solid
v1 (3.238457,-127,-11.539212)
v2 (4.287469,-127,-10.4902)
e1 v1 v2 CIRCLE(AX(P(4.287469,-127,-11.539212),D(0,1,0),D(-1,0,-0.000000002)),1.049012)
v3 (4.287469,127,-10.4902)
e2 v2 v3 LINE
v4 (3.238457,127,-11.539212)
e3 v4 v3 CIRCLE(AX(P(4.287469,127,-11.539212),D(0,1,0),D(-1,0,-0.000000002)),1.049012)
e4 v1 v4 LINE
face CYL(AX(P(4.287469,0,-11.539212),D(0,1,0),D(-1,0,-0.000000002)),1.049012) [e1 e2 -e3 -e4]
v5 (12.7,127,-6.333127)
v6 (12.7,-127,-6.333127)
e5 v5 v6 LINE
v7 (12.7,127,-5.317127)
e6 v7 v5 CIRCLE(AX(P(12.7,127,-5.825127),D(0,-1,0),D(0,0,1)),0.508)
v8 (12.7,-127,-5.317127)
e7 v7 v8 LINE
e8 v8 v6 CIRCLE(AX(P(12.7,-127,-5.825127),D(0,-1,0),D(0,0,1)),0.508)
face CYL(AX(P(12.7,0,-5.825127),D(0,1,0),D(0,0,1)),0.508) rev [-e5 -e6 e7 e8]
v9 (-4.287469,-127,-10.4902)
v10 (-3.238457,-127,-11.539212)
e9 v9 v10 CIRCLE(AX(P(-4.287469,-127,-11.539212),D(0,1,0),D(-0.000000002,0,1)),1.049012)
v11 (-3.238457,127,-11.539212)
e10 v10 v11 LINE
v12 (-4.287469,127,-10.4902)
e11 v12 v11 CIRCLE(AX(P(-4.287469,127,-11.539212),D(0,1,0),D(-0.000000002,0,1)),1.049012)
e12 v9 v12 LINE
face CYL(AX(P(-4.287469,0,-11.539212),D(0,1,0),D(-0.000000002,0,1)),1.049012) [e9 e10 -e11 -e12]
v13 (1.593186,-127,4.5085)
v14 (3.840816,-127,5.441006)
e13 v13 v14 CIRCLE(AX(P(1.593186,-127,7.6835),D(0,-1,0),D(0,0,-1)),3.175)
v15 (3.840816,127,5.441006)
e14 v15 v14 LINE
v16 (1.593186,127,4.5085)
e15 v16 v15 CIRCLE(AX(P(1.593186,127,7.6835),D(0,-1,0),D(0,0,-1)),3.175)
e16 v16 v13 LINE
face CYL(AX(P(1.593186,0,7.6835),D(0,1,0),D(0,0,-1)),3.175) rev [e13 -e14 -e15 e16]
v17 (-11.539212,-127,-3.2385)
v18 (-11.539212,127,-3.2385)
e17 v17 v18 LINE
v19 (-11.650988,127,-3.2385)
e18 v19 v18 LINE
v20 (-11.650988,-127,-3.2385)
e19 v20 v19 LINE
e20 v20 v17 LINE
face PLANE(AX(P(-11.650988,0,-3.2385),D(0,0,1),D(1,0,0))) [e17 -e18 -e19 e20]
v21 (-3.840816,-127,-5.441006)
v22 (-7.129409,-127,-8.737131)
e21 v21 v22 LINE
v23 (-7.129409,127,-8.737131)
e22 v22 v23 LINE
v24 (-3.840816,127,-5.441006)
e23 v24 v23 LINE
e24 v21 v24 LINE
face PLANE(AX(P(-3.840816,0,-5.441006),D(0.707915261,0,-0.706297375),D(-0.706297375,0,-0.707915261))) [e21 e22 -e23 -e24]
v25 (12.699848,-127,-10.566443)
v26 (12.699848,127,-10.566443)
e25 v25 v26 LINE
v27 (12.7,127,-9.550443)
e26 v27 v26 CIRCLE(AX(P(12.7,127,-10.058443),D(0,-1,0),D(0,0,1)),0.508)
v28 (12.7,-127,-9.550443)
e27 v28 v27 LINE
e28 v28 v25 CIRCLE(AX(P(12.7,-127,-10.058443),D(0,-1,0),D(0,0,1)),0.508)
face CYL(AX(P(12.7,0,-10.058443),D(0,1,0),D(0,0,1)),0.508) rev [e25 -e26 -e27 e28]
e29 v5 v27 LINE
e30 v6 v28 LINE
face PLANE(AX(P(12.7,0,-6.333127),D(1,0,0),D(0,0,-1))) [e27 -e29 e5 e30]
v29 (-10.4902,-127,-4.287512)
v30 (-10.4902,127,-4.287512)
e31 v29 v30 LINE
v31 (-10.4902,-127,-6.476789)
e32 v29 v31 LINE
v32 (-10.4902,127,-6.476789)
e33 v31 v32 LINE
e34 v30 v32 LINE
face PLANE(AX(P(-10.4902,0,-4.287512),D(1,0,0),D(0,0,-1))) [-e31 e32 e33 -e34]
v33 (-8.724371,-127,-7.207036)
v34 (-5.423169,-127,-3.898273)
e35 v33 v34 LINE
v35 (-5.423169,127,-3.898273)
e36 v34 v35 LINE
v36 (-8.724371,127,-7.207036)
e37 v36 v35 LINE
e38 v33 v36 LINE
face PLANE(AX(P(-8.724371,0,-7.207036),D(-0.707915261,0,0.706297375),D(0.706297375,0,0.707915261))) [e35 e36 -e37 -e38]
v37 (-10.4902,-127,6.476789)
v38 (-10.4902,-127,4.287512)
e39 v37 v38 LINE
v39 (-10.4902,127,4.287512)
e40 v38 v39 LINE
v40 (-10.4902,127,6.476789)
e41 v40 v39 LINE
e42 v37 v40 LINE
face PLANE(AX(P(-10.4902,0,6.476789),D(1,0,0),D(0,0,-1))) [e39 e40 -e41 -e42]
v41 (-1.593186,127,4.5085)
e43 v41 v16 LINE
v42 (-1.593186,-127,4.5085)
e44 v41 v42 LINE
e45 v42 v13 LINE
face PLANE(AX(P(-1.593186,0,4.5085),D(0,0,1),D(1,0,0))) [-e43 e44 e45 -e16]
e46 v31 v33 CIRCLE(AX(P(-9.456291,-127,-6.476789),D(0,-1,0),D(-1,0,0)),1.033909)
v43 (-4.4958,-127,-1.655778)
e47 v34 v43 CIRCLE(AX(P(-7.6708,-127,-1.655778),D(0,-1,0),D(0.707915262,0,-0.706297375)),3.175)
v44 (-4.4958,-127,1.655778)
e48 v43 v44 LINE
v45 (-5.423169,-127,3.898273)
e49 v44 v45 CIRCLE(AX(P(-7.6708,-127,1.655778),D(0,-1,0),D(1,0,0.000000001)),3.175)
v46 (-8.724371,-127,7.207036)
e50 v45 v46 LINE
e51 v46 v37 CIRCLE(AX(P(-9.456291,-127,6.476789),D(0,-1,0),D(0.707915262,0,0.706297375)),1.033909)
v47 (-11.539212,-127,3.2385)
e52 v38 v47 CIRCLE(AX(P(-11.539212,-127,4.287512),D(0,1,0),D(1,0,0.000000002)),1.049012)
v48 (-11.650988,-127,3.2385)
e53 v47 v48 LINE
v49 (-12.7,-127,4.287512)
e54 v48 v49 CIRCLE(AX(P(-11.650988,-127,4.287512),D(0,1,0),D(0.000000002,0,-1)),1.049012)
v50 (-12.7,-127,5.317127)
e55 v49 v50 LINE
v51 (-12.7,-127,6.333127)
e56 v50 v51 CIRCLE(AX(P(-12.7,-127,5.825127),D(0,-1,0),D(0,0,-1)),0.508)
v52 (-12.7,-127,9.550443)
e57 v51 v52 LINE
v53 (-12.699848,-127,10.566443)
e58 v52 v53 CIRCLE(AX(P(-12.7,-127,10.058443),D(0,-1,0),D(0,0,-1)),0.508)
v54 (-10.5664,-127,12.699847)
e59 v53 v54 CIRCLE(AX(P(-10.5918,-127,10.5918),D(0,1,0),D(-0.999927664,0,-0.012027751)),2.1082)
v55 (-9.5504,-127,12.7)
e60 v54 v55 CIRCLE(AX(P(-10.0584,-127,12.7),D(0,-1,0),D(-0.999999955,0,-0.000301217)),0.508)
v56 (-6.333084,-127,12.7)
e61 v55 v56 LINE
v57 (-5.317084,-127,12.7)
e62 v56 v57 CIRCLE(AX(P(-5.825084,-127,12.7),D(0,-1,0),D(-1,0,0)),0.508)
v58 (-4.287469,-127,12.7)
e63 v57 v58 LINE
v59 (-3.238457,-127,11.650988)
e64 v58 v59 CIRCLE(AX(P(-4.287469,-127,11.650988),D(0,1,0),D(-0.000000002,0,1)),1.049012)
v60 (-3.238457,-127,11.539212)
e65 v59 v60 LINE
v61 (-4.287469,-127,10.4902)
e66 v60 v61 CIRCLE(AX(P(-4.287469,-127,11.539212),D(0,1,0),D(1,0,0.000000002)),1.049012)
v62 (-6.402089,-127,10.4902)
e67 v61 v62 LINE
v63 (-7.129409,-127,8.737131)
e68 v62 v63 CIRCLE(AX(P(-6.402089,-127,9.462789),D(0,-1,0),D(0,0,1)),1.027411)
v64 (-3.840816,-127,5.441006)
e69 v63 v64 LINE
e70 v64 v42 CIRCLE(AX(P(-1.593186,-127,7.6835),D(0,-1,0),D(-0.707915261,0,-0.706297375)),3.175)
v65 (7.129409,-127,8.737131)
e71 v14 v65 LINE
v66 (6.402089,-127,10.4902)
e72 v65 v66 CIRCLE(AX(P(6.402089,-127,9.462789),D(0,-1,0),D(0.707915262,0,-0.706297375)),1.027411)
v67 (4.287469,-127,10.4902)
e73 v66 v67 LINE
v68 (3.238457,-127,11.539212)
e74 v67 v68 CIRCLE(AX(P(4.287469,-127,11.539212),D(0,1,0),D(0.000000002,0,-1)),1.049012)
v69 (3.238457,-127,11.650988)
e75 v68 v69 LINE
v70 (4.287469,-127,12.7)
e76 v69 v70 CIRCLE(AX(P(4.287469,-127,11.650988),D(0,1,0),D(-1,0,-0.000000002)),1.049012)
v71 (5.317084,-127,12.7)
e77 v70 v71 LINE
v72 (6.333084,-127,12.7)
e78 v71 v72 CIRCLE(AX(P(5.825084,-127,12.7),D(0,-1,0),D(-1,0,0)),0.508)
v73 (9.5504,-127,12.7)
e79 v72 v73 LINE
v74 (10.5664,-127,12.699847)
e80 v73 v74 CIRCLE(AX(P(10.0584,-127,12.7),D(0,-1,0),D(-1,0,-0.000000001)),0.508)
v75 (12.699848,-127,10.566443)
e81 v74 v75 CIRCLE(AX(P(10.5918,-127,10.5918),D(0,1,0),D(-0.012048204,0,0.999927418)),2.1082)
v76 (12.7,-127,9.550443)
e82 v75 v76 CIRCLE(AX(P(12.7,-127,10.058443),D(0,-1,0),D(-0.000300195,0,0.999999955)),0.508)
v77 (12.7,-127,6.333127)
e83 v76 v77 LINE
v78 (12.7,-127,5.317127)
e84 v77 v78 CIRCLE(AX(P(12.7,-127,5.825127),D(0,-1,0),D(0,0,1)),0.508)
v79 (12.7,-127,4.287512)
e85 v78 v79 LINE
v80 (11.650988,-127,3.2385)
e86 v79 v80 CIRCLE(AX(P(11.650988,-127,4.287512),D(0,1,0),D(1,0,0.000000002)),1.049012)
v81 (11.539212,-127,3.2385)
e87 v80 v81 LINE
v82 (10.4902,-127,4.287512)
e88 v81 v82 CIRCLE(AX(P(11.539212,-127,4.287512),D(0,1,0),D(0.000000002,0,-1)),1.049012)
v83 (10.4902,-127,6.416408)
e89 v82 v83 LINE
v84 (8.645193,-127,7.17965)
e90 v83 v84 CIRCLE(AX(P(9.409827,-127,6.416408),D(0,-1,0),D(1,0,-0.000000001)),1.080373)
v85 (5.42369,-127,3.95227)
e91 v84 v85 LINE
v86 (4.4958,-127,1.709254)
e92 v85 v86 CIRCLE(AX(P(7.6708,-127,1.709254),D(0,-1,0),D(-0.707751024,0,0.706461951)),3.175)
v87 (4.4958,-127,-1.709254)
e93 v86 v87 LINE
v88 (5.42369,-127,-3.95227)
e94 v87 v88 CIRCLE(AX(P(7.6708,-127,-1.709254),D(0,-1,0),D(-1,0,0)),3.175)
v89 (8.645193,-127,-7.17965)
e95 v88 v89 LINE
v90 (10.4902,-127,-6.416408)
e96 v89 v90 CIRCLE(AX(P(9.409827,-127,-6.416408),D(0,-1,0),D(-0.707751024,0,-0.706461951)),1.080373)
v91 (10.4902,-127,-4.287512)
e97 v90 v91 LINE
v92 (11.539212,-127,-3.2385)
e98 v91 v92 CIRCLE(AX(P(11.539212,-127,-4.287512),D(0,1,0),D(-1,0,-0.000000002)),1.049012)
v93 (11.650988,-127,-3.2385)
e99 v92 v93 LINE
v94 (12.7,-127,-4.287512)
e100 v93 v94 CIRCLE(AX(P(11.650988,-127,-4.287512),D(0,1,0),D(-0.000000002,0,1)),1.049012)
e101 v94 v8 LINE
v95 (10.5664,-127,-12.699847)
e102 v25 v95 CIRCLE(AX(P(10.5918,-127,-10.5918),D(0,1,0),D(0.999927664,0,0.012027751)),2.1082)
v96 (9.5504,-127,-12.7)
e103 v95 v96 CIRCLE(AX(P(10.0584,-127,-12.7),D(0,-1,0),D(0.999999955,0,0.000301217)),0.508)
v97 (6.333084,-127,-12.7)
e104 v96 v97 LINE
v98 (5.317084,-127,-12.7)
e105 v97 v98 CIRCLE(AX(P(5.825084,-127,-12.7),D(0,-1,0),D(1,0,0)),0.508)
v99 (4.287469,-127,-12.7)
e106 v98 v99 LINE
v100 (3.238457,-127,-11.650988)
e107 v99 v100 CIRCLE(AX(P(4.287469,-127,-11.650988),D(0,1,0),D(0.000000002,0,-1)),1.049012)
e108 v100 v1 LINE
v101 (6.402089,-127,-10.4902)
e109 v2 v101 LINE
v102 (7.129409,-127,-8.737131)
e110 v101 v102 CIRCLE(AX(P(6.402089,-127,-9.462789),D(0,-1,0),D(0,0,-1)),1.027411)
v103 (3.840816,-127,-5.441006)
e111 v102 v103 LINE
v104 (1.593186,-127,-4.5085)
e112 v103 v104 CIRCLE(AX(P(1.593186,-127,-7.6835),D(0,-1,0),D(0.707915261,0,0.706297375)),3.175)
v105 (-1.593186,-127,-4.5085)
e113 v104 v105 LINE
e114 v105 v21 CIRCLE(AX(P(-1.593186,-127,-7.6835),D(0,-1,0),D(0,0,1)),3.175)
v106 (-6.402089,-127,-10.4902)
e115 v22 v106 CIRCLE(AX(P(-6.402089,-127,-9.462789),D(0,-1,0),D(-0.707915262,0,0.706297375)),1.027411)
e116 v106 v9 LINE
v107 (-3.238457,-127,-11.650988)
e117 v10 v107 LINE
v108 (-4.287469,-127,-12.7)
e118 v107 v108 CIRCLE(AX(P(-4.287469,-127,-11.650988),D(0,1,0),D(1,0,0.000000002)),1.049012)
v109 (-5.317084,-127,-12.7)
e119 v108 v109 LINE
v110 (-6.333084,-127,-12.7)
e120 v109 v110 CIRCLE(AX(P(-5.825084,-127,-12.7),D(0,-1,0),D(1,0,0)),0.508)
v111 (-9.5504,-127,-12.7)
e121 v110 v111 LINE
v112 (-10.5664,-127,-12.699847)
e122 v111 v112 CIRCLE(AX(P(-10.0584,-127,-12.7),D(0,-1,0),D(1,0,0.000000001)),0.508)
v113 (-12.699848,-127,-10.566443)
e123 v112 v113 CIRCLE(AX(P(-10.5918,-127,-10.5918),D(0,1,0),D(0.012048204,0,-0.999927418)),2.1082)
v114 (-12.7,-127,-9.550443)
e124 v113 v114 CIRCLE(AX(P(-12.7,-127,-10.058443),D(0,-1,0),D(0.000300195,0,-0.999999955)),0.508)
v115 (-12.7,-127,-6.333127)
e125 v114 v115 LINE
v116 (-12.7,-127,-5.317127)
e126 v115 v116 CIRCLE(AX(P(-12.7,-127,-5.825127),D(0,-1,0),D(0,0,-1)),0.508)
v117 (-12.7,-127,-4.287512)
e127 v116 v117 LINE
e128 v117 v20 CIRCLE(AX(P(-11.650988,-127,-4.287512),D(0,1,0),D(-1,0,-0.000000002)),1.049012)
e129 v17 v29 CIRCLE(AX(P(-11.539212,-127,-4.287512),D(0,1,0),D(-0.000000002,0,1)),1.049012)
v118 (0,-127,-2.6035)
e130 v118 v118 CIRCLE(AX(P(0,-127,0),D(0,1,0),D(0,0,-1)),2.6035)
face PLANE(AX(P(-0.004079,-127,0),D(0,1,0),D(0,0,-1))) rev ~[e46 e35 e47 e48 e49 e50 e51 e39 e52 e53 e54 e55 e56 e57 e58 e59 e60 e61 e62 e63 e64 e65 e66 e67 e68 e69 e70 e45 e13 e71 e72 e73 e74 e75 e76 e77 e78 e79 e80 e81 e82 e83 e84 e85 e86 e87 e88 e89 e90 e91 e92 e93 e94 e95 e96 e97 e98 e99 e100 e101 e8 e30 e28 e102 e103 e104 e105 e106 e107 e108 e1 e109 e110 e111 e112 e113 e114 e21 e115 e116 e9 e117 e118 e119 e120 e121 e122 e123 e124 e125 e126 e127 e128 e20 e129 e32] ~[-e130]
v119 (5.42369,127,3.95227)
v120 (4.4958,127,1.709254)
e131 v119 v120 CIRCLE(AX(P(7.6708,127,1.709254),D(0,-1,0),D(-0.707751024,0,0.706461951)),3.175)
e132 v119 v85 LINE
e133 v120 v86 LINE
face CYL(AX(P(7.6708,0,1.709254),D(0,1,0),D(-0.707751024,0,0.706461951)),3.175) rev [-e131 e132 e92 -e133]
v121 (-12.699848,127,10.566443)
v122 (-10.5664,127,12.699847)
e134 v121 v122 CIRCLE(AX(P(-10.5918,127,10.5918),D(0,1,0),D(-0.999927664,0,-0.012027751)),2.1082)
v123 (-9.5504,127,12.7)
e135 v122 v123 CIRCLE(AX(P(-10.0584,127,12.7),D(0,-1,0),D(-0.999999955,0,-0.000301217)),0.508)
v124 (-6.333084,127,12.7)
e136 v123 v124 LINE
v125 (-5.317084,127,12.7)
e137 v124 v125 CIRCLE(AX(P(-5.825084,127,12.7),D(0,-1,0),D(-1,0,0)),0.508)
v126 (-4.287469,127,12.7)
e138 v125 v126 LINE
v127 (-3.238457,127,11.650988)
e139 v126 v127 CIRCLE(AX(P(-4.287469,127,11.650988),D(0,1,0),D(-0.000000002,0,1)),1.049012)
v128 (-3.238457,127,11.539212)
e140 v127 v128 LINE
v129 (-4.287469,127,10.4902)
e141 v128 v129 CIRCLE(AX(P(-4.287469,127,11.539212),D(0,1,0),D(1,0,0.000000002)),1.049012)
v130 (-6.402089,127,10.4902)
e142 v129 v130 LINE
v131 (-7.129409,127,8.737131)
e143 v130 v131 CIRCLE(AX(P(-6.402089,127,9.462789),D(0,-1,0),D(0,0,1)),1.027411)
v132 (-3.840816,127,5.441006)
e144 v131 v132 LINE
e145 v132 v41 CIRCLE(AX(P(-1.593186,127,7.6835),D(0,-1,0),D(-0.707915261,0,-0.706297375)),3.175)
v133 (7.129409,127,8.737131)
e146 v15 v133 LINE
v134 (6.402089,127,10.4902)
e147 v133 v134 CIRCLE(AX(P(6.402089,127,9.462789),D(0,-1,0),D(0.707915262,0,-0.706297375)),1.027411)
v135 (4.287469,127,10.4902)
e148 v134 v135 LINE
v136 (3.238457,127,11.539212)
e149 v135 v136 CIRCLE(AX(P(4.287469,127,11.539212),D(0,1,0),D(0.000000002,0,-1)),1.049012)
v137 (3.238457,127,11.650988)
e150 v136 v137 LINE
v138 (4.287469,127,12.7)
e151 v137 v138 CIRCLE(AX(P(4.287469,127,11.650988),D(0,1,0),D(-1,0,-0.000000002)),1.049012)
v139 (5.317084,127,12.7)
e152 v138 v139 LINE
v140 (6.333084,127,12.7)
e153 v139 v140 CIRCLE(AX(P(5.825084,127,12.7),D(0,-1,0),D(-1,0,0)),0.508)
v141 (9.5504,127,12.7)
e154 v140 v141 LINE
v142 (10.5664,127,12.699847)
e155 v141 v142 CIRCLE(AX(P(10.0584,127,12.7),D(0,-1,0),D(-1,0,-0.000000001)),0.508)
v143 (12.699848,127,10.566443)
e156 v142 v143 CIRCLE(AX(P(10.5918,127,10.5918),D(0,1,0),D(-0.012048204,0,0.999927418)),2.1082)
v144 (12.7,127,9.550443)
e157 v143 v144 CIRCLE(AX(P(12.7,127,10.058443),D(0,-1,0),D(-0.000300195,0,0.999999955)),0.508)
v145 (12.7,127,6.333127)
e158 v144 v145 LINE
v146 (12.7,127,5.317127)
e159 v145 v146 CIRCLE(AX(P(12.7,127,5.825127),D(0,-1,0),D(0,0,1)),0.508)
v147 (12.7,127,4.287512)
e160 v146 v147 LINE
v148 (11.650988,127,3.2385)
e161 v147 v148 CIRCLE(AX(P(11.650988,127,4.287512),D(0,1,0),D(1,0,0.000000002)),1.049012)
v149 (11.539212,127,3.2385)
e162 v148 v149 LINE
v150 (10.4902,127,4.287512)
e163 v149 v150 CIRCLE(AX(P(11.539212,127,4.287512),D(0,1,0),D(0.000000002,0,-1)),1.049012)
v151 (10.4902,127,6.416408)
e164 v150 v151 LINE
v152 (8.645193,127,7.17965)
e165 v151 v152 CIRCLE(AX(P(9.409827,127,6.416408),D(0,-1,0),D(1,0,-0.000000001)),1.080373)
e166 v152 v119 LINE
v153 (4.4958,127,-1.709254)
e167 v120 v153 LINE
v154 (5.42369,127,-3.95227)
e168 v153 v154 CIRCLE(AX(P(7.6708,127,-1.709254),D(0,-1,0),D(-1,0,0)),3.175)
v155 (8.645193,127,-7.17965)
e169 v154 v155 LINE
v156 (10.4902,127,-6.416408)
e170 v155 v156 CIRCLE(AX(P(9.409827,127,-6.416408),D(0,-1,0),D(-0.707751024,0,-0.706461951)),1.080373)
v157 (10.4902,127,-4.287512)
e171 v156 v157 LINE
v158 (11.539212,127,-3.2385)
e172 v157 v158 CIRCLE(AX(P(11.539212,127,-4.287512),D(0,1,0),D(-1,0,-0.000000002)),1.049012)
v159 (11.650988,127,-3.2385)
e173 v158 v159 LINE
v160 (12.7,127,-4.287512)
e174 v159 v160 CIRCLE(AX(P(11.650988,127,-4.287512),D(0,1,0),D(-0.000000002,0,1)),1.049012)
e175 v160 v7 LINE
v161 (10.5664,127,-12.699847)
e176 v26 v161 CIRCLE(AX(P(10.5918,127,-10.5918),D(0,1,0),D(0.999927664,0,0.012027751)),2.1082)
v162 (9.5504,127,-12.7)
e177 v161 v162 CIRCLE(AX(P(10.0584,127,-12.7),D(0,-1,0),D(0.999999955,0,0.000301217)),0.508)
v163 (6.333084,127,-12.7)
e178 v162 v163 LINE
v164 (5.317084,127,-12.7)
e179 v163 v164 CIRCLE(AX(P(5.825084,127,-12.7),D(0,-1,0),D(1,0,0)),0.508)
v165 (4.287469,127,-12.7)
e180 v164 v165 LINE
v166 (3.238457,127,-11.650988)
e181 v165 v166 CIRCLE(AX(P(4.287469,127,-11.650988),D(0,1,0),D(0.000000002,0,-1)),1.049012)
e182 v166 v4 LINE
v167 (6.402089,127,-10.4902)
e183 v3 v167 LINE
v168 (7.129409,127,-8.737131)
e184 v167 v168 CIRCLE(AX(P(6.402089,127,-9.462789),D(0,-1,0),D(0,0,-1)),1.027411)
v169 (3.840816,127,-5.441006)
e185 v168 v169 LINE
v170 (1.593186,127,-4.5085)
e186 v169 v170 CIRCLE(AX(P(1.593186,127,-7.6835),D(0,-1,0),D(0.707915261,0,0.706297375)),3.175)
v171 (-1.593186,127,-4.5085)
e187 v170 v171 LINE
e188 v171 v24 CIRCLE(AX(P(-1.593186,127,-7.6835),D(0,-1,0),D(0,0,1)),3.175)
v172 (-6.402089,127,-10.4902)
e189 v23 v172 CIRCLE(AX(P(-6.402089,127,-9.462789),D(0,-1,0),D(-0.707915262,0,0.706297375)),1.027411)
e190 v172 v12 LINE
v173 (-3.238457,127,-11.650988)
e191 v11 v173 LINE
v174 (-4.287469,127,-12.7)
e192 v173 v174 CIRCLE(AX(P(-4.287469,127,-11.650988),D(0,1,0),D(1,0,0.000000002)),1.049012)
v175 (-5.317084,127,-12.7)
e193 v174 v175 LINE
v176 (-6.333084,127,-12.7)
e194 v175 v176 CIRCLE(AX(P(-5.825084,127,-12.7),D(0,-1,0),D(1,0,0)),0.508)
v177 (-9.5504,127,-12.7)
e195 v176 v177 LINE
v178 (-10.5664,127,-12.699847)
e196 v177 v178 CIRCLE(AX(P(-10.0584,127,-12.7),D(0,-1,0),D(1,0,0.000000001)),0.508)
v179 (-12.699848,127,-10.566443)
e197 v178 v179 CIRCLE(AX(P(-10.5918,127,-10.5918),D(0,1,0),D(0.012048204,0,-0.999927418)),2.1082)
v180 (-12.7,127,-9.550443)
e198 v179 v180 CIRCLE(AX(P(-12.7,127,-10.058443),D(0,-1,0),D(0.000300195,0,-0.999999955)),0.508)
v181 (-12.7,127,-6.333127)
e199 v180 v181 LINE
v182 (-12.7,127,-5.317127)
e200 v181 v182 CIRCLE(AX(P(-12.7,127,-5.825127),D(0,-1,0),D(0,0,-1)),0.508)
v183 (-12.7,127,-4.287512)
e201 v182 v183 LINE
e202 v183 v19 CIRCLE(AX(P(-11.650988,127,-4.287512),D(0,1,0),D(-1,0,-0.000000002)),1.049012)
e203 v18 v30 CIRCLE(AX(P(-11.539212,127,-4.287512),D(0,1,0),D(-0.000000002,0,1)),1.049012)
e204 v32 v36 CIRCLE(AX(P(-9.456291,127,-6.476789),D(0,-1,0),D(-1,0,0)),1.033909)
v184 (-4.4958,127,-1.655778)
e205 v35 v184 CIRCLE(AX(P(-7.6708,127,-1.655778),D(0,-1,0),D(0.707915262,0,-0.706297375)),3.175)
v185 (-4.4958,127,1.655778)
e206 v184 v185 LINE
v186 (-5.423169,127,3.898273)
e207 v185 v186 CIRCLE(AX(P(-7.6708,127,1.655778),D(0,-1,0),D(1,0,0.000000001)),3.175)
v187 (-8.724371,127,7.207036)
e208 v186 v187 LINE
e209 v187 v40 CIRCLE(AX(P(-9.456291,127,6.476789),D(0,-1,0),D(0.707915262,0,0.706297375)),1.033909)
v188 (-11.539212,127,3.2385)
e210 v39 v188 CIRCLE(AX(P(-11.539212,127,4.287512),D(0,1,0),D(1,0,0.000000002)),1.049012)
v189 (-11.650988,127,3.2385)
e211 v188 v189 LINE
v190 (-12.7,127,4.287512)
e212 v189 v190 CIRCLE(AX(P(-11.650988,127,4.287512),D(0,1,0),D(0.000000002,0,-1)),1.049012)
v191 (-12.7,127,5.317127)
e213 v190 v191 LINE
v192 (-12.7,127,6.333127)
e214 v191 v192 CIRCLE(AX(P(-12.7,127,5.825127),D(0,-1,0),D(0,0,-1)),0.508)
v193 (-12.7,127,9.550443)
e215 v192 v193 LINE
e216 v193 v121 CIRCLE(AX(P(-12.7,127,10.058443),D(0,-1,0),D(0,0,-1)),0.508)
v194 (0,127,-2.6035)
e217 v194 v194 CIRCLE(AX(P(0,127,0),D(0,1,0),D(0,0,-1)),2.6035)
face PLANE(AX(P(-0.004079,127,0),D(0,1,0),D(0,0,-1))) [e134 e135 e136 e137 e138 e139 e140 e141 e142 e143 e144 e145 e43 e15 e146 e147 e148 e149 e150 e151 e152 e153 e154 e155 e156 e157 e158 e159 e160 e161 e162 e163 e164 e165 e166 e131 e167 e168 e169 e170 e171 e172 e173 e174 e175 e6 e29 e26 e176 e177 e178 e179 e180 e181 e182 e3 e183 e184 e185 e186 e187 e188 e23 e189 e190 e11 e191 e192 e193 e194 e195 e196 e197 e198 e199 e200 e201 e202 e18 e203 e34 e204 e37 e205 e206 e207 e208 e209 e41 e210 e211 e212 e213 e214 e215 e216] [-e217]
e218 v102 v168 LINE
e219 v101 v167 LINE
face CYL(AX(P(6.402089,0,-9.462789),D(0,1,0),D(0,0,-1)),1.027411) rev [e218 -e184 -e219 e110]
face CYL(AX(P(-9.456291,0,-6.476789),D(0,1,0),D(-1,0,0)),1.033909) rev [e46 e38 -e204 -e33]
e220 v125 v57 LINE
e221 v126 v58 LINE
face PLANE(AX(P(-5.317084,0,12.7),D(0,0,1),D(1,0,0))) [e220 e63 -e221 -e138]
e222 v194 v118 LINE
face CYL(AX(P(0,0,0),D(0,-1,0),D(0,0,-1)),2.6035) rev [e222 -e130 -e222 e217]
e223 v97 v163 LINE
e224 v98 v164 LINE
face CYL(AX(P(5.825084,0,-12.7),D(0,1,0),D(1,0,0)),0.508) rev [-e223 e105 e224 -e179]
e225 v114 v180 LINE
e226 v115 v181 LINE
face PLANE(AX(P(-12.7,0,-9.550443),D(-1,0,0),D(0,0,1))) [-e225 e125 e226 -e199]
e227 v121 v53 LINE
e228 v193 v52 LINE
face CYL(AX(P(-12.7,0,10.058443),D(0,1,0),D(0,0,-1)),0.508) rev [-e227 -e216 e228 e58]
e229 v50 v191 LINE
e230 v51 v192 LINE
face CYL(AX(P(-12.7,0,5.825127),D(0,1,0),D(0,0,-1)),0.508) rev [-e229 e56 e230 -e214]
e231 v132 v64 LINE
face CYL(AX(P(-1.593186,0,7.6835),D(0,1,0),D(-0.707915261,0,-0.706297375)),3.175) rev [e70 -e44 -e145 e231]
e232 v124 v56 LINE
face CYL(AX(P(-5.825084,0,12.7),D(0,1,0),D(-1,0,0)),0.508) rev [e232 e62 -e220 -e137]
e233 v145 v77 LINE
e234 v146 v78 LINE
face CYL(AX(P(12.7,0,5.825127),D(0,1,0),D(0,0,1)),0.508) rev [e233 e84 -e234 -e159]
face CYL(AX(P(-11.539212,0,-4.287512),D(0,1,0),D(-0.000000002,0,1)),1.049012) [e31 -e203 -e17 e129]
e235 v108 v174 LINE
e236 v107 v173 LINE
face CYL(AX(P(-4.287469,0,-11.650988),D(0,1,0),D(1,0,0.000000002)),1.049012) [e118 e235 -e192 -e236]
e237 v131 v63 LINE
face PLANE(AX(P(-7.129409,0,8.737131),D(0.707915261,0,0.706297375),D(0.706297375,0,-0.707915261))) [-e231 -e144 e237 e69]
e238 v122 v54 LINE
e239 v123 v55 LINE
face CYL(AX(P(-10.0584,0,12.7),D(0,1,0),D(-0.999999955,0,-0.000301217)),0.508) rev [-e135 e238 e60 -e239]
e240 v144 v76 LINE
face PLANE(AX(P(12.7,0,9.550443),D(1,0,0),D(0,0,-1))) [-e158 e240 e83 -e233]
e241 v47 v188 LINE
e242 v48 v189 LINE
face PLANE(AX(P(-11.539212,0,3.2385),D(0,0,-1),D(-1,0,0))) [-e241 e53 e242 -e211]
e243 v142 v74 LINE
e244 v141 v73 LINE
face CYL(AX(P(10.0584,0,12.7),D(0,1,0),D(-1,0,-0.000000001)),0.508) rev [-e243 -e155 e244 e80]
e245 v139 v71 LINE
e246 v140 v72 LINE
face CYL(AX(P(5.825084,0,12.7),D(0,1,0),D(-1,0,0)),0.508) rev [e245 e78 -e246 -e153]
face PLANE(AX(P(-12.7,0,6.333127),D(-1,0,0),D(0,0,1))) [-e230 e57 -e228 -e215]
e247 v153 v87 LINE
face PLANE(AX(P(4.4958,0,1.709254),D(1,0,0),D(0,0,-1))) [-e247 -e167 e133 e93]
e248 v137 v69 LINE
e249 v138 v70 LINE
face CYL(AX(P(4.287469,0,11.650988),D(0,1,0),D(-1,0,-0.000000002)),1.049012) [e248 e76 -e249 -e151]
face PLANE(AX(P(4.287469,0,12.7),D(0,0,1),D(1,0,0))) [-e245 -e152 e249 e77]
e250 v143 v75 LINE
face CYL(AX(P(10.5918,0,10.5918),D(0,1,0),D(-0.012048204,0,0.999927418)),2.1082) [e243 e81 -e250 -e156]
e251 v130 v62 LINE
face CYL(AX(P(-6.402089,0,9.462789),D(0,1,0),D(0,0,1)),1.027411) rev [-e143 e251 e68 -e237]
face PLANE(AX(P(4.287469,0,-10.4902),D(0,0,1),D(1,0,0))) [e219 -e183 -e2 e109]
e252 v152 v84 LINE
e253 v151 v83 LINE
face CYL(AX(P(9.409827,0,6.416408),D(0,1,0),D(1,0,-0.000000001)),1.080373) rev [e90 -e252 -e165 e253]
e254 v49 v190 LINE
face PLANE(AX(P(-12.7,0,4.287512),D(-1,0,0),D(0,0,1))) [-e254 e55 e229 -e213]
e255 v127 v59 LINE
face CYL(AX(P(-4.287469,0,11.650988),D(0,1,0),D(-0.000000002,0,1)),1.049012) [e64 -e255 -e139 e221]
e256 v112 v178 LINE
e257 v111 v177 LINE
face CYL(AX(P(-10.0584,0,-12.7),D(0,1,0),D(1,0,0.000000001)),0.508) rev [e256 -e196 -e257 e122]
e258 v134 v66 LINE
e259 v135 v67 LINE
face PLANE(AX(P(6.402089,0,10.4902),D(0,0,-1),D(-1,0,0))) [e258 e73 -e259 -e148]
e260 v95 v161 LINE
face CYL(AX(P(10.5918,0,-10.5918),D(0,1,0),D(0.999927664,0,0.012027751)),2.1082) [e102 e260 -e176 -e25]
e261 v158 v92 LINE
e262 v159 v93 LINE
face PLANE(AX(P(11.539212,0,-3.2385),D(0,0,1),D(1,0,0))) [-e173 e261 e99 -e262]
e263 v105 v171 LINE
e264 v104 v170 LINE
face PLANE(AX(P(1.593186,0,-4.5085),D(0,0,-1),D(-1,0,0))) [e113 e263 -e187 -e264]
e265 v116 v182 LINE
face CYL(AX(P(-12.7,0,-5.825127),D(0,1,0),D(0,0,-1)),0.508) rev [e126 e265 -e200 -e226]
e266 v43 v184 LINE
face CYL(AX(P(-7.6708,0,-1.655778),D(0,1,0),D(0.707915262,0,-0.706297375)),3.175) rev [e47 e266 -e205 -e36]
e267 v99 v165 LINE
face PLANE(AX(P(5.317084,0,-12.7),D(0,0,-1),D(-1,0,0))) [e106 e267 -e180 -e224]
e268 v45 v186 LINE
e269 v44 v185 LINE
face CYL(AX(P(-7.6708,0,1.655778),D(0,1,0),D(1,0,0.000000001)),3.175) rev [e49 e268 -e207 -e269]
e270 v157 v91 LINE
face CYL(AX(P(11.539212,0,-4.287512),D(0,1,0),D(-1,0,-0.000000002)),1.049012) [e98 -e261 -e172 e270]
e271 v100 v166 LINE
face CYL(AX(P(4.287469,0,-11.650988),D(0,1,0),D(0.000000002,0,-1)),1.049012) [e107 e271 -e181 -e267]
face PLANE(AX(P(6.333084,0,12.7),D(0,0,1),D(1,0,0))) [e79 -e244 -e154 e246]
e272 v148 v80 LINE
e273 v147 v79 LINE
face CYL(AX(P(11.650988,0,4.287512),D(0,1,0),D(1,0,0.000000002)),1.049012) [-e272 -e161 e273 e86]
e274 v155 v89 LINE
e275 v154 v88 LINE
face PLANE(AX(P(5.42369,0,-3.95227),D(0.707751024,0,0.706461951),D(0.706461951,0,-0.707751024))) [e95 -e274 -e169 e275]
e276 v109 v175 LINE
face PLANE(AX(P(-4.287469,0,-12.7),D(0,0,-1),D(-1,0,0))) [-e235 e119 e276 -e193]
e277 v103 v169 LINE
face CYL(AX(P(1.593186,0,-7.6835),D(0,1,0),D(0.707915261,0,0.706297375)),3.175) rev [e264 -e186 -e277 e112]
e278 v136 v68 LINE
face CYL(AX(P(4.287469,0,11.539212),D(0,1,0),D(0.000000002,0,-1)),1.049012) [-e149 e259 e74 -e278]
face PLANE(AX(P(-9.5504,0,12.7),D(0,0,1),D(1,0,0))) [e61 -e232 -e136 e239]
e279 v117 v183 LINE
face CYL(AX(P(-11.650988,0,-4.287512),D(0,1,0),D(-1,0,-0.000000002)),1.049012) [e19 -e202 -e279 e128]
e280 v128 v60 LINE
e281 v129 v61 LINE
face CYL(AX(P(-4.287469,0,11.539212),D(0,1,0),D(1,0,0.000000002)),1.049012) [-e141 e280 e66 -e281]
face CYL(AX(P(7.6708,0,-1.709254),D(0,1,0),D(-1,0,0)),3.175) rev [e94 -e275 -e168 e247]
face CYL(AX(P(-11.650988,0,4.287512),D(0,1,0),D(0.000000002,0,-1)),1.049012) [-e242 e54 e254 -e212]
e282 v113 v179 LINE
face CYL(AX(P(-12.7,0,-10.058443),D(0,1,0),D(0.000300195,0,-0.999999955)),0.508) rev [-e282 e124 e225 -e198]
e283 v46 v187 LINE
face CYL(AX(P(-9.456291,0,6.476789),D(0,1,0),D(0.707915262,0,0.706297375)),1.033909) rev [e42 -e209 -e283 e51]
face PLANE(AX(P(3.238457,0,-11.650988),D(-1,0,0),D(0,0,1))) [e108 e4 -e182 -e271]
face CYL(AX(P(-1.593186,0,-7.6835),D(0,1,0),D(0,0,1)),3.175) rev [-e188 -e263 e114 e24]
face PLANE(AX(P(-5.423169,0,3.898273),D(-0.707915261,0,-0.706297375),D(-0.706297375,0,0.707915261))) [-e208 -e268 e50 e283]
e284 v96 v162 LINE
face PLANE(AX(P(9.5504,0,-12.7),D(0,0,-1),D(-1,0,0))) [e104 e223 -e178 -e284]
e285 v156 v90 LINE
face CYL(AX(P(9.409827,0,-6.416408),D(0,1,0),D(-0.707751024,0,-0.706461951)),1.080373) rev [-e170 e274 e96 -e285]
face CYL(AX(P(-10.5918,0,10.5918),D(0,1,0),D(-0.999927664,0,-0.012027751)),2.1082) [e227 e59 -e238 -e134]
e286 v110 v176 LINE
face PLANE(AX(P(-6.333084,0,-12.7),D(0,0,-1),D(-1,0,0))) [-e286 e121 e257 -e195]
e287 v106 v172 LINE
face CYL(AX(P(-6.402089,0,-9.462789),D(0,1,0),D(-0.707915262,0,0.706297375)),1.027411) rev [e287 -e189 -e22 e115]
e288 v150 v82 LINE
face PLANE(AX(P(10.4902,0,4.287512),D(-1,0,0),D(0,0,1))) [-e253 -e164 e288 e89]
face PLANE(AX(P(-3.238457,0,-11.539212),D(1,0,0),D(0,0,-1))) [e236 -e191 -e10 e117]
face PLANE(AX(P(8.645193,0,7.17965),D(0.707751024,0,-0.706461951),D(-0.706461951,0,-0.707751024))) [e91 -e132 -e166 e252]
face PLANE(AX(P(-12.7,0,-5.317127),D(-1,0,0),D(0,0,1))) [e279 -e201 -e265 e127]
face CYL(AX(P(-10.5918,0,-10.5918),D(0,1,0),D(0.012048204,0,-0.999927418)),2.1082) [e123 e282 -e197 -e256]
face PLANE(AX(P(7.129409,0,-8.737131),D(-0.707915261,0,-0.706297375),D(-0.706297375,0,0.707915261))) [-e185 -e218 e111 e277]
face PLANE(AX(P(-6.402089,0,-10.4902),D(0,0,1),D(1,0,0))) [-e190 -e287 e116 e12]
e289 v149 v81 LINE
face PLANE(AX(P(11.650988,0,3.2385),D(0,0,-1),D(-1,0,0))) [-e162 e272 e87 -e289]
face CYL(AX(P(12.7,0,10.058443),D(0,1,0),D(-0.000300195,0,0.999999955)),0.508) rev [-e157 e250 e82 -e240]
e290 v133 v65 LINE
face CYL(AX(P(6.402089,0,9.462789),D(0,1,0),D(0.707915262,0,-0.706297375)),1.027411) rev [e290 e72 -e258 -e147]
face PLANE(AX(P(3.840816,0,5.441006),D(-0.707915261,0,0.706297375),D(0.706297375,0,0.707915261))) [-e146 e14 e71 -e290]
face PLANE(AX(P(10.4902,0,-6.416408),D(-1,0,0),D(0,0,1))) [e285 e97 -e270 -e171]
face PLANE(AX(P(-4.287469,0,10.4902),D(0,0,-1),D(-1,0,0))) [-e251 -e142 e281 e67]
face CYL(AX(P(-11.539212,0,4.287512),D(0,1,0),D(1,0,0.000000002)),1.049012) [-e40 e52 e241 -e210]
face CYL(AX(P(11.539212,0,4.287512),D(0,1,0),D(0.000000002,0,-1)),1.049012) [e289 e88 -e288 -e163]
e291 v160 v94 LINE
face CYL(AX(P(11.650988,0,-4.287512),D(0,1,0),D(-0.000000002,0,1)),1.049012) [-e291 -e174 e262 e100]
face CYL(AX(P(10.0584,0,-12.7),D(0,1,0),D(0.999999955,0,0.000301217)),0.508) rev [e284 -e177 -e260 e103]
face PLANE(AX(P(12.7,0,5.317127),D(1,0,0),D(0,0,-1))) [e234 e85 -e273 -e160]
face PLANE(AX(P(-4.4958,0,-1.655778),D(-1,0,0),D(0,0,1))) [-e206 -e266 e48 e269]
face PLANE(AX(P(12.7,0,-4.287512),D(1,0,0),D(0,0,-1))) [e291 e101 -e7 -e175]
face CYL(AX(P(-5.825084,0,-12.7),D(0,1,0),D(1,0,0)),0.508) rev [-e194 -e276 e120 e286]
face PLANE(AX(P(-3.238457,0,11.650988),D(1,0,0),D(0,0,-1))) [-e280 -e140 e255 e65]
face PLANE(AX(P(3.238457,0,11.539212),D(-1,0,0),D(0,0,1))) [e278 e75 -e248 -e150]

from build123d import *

# Parameters (mm, degrees)
SKETCH1_R           = 2.6035
BOSS_EXTRUDE1_DEPTH = 127


with BuildPart() as part:
    # Sketch1 → Boss-Extrude1 (new body, symmetric)
    with BuildSketch(Plane(origin=(0, 0, 0), x_dir=(0, 0, -1), z_dir=(0, 1, 0))):
        with BuildLine():
            Line((6.333126718, -12.7), (9.550443118, -12.7))
            ThreePointArc((9.550443118, -12.7), (10.058366869, -12.192000006), (10.566443095, -12.699847501))
            ThreePointArc((10.566443095, -12.699847501), (12.082537762, -12.08250727), (12.699846982, -10.566399977))
            ThreePointArc((12.699846982, -10.566399977), (12.192000006, -10.058323491), (12.7, -9.5504))
            Line((12.7, -9.5504), (12.7, -6.3330836))
            ThreePointArc((12.7, -6.3330836), (12.192, -5.8250836), (12.7, -5.3170836))
            Line((12.7, -5.3170836), (12.7, -4.287469289))
            ThreePointArc((12.7, -4.287469289), (12.39275138, -3.545705502), (11.650987593, -3.238456882))
            Line((11.650987593, -3.238456882), (11.539212407, -3.238456882))
            ThreePointArc((11.539212407, -3.238456882), (10.79744862, -3.545705502), (10.4902, -4.287469289))
            Line((10.4902, -4.287469289), (10.4902, -6.402089023))
            ThreePointArc((10.4902, -6.402089023), (9.856505071, -7.351067942), (8.737131347, -7.129408934))
            Line((8.737131347, -7.129408934), (5.441005833, -3.840816462))
            ThreePointArc((5.441005833, -3.840816462), (4.750877967, -2.809883091), (4.5085, -1.593185507))
            Line((4.5085, -1.593185507), (4.5085, 1.593185507))
            ThreePointArc((4.5085, 1.593185507), (4.750877967, 2.809883091), (5.441005833, 3.840816462))
            Line((5.441005833, 3.840816462), (8.737131347, 7.129408934))
            ThreePointArc((8.737131347, 7.129408934), (9.856505071, 7.351067942), (10.4902, 6.402089023))
            Line((10.4902, 6.402089023), (10.4902, 4.287469289))
            ThreePointArc((10.4902, 4.287469289), (10.79744862, 3.545705502), (11.539212407, 3.238456882))
            Line((11.539212407, 3.238456882), (11.650987593, 3.238456882))
            ThreePointArc((11.650987593, 3.238456882), (12.39275138, 3.545705502), (12.7, 4.287469289))
            Line((12.7, 4.287469289), (12.7, 5.3170836))
            ThreePointArc((12.7, 5.3170836), (12.192, 5.8250836), (12.7, 6.3330836))
            Line((12.7, 6.3330836), (12.7, 9.5504))
            ThreePointArc((12.7, 9.5504), (12.192000006, 10.058323491), (12.699846982, 10.566399977))
            ThreePointArc((12.699846982, 10.566399977), (12.082537762, 12.08250727), (10.566443095, 12.699847501))
            ThreePointArc((10.566443095, 12.699847501), (10.058366869, 12.192000006), (9.550443118, 12.7))
            Line((9.550443118, 12.7), (6.333126718, 12.7))
            ThreePointArc((6.333126718, 12.7), (5.825126718, 12.192), (5.317126718, 12.7))
            Line((5.317126718, 12.7), (4.287512407, 12.7))
            ThreePointArc((4.287512407, 12.7), (3.54574862, 12.39275138), (3.2385, 11.650987593))
            Line((3.2385, 11.650987593), (3.2385, 11.539212407))
            ThreePointArc((3.2385, 11.539212407), (3.54574862, 10.79744862), (4.287512407, 10.4902))
            Line((4.287512407, 10.4902), (6.476788598, 10.4902))
            ThreePointArc((6.476788598, 10.4902), (7.432222385, 9.85140422), (7.207036008, 8.724370562))
            Line((7.207036008, 8.724370562), (3.898272566, 5.423169045))
            ThreePointArc((3.898272566, 5.423169045), (2.869120213, 4.736787962), (1.655778399, 4.4958))
            Line((1.655778399, 4.4958), (-1.655778399, 4.4958))
            ThreePointArc((-1.655778399, 4.4958), (-2.869120213, 4.736787962), (-3.898272566, 5.423169045))
            Line((-3.898272566, 5.423169045), (-7.207036008, 8.724370562))
            ThreePointArc((-7.207036008, 8.724370562), (-7.432222385, 9.85140422), (-6.476788598, 10.4902))
            Line((-6.476788598, 10.4902), (-4.287512407, 10.4902))
            ThreePointArc((-4.287512407, 10.4902), (-3.54574862, 10.79744862), (-3.2385, 11.539212407))
            Line((-3.2385, 11.539212407), (-3.2385, 11.650987593))
            ThreePointArc((-3.2385, 11.650987593), (-3.54574862, 12.39275138), (-4.287512407, 12.7))
            Line((-4.287512407, 12.7), (-5.317126718, 12.7))
            ThreePointArc((-5.317126718, 12.7), (-5.825126718, 12.192), (-6.333126718, 12.7))
            Line((-6.333126718, 12.7), (-9.550443118, 12.7))
            ThreePointArc((-9.550443118, 12.7), (-10.058366869, 12.192000006), (-10.566443095, 12.699847501))
            ThreePointArc((-10.566443095, 12.699847501), (-12.082537762, 12.08250727), (-12.699846982, 10.566399977))
            ThreePointArc((-12.699846982, 10.566399977), (-12.192000006, 10.058323491), (-12.7, 9.5504))
            Line((-12.7, 9.5504), (-12.7, 6.3330836))
            ThreePointArc((-12.7, 6.3330836), (-12.192, 5.8250836), (-12.7, 5.3170836))
            Line((-12.7, 5.3170836), (-12.7, 4.287469289))
            ThreePointArc((-12.7, 4.287469289), (-12.39275138, 3.545705502), (-11.650987593, 3.238456882))
            Line((-11.650987593, 3.238456882), (-11.539212407, 3.238456882))
            ThreePointArc((-11.539212407, 3.238456882), (-10.79744862, 3.545705502), (-10.4902, 4.287469289))
            Line((-10.4902, 4.287469289), (-10.4902, 6.402089023))
            ThreePointArc((-10.4902, 6.402089023), (-9.856505071, 7.351067942), (-8.737131347, 7.129408934))
            Line((-8.737131347, 7.129408934), (-5.441005833, 3.840816462))
            ThreePointArc((-5.441005833, 3.840816462), (-4.750877967, 2.809883091), (-4.5085, 1.593185507))
            Line((-4.5085, 1.593185507), (-4.5085, -1.593185507))
            ThreePointArc((-4.5085, -1.593185507), (-4.750877967, -2.809883091), (-5.441005833, -3.840816462))
            Line((-5.441005833, -3.840816462), (-8.737131347, -7.129408934))
            ThreePointArc((-8.737131347, -7.129408934), (-9.856505071, -7.351067942), (-10.4902, -6.402089023))
            Line((-10.4902, -6.402089023), (-10.4902, -4.287469289))
            ThreePointArc((-10.4902, -4.287469289), (-10.79744862, -3.545705502), (-11.539212407, -3.238456882))
            Line((-11.539212407, -3.238456882), (-11.650987593, -3.238456882))
            ThreePointArc((-11.650987593, -3.238456882), (-12.39275138, -3.545705502), (-12.7, -4.287469289))
            Line((-12.7, -4.287469289), (-12.7, -5.3170836))
            ThreePointArc((-12.7, -5.3170836), (-12.192, -5.8250836), (-12.7, -6.3330836))
            Line((-12.7, -6.3330836), (-12.7, -9.5504))
            ThreePointArc((-12.7, -9.5504), (-12.192000006, -10.058323491), (-12.699846982, -10.566399977))
            ThreePointArc((-12.699846982, -10.566399977), (-12.082537762, -12.08250727), (-10.566443095, -12.699847501))
            ThreePointArc((-10.566443095, -12.699847501), (-10.058366869, -12.192000006), (-9.550443118, -12.7))
            Line((-9.550443118, -12.7), (-6.333126718, -12.7))
            ThreePointArc((-6.333126718, -12.7), (-5.825126718, -12.192), (-5.317126718, -12.7))
            Line((-5.317126718, -12.7), (-4.287512407, -12.7))
            ThreePointArc((-4.287512407, -12.7), (-3.54574862, -12.39275138), (-3.2385, -11.650987593))
            Line((-3.2385, -11.650987593), (-3.2385, -11.539212407))
            ThreePointArc((-3.2385, -11.539212407), (-3.54574862, -10.79744862), (-4.287512407, -10.4902))
            Line((-4.287512407, -10.4902), (-6.416408329, -10.4902))
            ThreePointArc((-6.416408329, -10.4902), (-7.41473083, -9.822813117), (-7.179650497, -8.645192506))
            Line((-7.179650497, -8.645192506), (-3.952270251, -5.423690499))
            ThreePointArc((-3.952270251, -5.423690499), (-2.922936451, -4.736929036), (-1.709253557, -4.4958))
            Line((-1.709253557, -4.4958), (1.709253557, -4.4958))
            ThreePointArc((1.709253557, -4.4958), (2.922936451, -4.736929036), (3.952270251, -5.423690499))
            Line((3.952270251, -5.423690499), (7.179650497, -8.645192506))
            ThreePointArc((7.179650497, -8.645192506), (7.41473083, -9.822813117), (6.416408329, -10.4902))
            Line((6.416408329, -10.4902), (4.287512407, -10.4902))
            ThreePointArc((4.287512407, -10.4902), (3.54574862, -10.79744862), (3.2385, -11.539212407))
            Line((3.2385, -11.539212407), (3.2385, -11.650987593))
            ThreePointArc((3.2385, -11.650987593), (3.54574862, -12.39275138), (4.287512407, -12.7))
            Line((4.287512407, -12.7), (5.317126718, -12.7))
            ThreePointArc((5.317126718, -12.7), (5.825126718, -12.192), (6.333126718, -12.7))
        make_face()
        Circle(SKETCH1_R, mode=Mode.SUBTRACT)
    extrude(amount=BOSS_EXTRUDE1_DEPTH, both=True)


solid = part.part
